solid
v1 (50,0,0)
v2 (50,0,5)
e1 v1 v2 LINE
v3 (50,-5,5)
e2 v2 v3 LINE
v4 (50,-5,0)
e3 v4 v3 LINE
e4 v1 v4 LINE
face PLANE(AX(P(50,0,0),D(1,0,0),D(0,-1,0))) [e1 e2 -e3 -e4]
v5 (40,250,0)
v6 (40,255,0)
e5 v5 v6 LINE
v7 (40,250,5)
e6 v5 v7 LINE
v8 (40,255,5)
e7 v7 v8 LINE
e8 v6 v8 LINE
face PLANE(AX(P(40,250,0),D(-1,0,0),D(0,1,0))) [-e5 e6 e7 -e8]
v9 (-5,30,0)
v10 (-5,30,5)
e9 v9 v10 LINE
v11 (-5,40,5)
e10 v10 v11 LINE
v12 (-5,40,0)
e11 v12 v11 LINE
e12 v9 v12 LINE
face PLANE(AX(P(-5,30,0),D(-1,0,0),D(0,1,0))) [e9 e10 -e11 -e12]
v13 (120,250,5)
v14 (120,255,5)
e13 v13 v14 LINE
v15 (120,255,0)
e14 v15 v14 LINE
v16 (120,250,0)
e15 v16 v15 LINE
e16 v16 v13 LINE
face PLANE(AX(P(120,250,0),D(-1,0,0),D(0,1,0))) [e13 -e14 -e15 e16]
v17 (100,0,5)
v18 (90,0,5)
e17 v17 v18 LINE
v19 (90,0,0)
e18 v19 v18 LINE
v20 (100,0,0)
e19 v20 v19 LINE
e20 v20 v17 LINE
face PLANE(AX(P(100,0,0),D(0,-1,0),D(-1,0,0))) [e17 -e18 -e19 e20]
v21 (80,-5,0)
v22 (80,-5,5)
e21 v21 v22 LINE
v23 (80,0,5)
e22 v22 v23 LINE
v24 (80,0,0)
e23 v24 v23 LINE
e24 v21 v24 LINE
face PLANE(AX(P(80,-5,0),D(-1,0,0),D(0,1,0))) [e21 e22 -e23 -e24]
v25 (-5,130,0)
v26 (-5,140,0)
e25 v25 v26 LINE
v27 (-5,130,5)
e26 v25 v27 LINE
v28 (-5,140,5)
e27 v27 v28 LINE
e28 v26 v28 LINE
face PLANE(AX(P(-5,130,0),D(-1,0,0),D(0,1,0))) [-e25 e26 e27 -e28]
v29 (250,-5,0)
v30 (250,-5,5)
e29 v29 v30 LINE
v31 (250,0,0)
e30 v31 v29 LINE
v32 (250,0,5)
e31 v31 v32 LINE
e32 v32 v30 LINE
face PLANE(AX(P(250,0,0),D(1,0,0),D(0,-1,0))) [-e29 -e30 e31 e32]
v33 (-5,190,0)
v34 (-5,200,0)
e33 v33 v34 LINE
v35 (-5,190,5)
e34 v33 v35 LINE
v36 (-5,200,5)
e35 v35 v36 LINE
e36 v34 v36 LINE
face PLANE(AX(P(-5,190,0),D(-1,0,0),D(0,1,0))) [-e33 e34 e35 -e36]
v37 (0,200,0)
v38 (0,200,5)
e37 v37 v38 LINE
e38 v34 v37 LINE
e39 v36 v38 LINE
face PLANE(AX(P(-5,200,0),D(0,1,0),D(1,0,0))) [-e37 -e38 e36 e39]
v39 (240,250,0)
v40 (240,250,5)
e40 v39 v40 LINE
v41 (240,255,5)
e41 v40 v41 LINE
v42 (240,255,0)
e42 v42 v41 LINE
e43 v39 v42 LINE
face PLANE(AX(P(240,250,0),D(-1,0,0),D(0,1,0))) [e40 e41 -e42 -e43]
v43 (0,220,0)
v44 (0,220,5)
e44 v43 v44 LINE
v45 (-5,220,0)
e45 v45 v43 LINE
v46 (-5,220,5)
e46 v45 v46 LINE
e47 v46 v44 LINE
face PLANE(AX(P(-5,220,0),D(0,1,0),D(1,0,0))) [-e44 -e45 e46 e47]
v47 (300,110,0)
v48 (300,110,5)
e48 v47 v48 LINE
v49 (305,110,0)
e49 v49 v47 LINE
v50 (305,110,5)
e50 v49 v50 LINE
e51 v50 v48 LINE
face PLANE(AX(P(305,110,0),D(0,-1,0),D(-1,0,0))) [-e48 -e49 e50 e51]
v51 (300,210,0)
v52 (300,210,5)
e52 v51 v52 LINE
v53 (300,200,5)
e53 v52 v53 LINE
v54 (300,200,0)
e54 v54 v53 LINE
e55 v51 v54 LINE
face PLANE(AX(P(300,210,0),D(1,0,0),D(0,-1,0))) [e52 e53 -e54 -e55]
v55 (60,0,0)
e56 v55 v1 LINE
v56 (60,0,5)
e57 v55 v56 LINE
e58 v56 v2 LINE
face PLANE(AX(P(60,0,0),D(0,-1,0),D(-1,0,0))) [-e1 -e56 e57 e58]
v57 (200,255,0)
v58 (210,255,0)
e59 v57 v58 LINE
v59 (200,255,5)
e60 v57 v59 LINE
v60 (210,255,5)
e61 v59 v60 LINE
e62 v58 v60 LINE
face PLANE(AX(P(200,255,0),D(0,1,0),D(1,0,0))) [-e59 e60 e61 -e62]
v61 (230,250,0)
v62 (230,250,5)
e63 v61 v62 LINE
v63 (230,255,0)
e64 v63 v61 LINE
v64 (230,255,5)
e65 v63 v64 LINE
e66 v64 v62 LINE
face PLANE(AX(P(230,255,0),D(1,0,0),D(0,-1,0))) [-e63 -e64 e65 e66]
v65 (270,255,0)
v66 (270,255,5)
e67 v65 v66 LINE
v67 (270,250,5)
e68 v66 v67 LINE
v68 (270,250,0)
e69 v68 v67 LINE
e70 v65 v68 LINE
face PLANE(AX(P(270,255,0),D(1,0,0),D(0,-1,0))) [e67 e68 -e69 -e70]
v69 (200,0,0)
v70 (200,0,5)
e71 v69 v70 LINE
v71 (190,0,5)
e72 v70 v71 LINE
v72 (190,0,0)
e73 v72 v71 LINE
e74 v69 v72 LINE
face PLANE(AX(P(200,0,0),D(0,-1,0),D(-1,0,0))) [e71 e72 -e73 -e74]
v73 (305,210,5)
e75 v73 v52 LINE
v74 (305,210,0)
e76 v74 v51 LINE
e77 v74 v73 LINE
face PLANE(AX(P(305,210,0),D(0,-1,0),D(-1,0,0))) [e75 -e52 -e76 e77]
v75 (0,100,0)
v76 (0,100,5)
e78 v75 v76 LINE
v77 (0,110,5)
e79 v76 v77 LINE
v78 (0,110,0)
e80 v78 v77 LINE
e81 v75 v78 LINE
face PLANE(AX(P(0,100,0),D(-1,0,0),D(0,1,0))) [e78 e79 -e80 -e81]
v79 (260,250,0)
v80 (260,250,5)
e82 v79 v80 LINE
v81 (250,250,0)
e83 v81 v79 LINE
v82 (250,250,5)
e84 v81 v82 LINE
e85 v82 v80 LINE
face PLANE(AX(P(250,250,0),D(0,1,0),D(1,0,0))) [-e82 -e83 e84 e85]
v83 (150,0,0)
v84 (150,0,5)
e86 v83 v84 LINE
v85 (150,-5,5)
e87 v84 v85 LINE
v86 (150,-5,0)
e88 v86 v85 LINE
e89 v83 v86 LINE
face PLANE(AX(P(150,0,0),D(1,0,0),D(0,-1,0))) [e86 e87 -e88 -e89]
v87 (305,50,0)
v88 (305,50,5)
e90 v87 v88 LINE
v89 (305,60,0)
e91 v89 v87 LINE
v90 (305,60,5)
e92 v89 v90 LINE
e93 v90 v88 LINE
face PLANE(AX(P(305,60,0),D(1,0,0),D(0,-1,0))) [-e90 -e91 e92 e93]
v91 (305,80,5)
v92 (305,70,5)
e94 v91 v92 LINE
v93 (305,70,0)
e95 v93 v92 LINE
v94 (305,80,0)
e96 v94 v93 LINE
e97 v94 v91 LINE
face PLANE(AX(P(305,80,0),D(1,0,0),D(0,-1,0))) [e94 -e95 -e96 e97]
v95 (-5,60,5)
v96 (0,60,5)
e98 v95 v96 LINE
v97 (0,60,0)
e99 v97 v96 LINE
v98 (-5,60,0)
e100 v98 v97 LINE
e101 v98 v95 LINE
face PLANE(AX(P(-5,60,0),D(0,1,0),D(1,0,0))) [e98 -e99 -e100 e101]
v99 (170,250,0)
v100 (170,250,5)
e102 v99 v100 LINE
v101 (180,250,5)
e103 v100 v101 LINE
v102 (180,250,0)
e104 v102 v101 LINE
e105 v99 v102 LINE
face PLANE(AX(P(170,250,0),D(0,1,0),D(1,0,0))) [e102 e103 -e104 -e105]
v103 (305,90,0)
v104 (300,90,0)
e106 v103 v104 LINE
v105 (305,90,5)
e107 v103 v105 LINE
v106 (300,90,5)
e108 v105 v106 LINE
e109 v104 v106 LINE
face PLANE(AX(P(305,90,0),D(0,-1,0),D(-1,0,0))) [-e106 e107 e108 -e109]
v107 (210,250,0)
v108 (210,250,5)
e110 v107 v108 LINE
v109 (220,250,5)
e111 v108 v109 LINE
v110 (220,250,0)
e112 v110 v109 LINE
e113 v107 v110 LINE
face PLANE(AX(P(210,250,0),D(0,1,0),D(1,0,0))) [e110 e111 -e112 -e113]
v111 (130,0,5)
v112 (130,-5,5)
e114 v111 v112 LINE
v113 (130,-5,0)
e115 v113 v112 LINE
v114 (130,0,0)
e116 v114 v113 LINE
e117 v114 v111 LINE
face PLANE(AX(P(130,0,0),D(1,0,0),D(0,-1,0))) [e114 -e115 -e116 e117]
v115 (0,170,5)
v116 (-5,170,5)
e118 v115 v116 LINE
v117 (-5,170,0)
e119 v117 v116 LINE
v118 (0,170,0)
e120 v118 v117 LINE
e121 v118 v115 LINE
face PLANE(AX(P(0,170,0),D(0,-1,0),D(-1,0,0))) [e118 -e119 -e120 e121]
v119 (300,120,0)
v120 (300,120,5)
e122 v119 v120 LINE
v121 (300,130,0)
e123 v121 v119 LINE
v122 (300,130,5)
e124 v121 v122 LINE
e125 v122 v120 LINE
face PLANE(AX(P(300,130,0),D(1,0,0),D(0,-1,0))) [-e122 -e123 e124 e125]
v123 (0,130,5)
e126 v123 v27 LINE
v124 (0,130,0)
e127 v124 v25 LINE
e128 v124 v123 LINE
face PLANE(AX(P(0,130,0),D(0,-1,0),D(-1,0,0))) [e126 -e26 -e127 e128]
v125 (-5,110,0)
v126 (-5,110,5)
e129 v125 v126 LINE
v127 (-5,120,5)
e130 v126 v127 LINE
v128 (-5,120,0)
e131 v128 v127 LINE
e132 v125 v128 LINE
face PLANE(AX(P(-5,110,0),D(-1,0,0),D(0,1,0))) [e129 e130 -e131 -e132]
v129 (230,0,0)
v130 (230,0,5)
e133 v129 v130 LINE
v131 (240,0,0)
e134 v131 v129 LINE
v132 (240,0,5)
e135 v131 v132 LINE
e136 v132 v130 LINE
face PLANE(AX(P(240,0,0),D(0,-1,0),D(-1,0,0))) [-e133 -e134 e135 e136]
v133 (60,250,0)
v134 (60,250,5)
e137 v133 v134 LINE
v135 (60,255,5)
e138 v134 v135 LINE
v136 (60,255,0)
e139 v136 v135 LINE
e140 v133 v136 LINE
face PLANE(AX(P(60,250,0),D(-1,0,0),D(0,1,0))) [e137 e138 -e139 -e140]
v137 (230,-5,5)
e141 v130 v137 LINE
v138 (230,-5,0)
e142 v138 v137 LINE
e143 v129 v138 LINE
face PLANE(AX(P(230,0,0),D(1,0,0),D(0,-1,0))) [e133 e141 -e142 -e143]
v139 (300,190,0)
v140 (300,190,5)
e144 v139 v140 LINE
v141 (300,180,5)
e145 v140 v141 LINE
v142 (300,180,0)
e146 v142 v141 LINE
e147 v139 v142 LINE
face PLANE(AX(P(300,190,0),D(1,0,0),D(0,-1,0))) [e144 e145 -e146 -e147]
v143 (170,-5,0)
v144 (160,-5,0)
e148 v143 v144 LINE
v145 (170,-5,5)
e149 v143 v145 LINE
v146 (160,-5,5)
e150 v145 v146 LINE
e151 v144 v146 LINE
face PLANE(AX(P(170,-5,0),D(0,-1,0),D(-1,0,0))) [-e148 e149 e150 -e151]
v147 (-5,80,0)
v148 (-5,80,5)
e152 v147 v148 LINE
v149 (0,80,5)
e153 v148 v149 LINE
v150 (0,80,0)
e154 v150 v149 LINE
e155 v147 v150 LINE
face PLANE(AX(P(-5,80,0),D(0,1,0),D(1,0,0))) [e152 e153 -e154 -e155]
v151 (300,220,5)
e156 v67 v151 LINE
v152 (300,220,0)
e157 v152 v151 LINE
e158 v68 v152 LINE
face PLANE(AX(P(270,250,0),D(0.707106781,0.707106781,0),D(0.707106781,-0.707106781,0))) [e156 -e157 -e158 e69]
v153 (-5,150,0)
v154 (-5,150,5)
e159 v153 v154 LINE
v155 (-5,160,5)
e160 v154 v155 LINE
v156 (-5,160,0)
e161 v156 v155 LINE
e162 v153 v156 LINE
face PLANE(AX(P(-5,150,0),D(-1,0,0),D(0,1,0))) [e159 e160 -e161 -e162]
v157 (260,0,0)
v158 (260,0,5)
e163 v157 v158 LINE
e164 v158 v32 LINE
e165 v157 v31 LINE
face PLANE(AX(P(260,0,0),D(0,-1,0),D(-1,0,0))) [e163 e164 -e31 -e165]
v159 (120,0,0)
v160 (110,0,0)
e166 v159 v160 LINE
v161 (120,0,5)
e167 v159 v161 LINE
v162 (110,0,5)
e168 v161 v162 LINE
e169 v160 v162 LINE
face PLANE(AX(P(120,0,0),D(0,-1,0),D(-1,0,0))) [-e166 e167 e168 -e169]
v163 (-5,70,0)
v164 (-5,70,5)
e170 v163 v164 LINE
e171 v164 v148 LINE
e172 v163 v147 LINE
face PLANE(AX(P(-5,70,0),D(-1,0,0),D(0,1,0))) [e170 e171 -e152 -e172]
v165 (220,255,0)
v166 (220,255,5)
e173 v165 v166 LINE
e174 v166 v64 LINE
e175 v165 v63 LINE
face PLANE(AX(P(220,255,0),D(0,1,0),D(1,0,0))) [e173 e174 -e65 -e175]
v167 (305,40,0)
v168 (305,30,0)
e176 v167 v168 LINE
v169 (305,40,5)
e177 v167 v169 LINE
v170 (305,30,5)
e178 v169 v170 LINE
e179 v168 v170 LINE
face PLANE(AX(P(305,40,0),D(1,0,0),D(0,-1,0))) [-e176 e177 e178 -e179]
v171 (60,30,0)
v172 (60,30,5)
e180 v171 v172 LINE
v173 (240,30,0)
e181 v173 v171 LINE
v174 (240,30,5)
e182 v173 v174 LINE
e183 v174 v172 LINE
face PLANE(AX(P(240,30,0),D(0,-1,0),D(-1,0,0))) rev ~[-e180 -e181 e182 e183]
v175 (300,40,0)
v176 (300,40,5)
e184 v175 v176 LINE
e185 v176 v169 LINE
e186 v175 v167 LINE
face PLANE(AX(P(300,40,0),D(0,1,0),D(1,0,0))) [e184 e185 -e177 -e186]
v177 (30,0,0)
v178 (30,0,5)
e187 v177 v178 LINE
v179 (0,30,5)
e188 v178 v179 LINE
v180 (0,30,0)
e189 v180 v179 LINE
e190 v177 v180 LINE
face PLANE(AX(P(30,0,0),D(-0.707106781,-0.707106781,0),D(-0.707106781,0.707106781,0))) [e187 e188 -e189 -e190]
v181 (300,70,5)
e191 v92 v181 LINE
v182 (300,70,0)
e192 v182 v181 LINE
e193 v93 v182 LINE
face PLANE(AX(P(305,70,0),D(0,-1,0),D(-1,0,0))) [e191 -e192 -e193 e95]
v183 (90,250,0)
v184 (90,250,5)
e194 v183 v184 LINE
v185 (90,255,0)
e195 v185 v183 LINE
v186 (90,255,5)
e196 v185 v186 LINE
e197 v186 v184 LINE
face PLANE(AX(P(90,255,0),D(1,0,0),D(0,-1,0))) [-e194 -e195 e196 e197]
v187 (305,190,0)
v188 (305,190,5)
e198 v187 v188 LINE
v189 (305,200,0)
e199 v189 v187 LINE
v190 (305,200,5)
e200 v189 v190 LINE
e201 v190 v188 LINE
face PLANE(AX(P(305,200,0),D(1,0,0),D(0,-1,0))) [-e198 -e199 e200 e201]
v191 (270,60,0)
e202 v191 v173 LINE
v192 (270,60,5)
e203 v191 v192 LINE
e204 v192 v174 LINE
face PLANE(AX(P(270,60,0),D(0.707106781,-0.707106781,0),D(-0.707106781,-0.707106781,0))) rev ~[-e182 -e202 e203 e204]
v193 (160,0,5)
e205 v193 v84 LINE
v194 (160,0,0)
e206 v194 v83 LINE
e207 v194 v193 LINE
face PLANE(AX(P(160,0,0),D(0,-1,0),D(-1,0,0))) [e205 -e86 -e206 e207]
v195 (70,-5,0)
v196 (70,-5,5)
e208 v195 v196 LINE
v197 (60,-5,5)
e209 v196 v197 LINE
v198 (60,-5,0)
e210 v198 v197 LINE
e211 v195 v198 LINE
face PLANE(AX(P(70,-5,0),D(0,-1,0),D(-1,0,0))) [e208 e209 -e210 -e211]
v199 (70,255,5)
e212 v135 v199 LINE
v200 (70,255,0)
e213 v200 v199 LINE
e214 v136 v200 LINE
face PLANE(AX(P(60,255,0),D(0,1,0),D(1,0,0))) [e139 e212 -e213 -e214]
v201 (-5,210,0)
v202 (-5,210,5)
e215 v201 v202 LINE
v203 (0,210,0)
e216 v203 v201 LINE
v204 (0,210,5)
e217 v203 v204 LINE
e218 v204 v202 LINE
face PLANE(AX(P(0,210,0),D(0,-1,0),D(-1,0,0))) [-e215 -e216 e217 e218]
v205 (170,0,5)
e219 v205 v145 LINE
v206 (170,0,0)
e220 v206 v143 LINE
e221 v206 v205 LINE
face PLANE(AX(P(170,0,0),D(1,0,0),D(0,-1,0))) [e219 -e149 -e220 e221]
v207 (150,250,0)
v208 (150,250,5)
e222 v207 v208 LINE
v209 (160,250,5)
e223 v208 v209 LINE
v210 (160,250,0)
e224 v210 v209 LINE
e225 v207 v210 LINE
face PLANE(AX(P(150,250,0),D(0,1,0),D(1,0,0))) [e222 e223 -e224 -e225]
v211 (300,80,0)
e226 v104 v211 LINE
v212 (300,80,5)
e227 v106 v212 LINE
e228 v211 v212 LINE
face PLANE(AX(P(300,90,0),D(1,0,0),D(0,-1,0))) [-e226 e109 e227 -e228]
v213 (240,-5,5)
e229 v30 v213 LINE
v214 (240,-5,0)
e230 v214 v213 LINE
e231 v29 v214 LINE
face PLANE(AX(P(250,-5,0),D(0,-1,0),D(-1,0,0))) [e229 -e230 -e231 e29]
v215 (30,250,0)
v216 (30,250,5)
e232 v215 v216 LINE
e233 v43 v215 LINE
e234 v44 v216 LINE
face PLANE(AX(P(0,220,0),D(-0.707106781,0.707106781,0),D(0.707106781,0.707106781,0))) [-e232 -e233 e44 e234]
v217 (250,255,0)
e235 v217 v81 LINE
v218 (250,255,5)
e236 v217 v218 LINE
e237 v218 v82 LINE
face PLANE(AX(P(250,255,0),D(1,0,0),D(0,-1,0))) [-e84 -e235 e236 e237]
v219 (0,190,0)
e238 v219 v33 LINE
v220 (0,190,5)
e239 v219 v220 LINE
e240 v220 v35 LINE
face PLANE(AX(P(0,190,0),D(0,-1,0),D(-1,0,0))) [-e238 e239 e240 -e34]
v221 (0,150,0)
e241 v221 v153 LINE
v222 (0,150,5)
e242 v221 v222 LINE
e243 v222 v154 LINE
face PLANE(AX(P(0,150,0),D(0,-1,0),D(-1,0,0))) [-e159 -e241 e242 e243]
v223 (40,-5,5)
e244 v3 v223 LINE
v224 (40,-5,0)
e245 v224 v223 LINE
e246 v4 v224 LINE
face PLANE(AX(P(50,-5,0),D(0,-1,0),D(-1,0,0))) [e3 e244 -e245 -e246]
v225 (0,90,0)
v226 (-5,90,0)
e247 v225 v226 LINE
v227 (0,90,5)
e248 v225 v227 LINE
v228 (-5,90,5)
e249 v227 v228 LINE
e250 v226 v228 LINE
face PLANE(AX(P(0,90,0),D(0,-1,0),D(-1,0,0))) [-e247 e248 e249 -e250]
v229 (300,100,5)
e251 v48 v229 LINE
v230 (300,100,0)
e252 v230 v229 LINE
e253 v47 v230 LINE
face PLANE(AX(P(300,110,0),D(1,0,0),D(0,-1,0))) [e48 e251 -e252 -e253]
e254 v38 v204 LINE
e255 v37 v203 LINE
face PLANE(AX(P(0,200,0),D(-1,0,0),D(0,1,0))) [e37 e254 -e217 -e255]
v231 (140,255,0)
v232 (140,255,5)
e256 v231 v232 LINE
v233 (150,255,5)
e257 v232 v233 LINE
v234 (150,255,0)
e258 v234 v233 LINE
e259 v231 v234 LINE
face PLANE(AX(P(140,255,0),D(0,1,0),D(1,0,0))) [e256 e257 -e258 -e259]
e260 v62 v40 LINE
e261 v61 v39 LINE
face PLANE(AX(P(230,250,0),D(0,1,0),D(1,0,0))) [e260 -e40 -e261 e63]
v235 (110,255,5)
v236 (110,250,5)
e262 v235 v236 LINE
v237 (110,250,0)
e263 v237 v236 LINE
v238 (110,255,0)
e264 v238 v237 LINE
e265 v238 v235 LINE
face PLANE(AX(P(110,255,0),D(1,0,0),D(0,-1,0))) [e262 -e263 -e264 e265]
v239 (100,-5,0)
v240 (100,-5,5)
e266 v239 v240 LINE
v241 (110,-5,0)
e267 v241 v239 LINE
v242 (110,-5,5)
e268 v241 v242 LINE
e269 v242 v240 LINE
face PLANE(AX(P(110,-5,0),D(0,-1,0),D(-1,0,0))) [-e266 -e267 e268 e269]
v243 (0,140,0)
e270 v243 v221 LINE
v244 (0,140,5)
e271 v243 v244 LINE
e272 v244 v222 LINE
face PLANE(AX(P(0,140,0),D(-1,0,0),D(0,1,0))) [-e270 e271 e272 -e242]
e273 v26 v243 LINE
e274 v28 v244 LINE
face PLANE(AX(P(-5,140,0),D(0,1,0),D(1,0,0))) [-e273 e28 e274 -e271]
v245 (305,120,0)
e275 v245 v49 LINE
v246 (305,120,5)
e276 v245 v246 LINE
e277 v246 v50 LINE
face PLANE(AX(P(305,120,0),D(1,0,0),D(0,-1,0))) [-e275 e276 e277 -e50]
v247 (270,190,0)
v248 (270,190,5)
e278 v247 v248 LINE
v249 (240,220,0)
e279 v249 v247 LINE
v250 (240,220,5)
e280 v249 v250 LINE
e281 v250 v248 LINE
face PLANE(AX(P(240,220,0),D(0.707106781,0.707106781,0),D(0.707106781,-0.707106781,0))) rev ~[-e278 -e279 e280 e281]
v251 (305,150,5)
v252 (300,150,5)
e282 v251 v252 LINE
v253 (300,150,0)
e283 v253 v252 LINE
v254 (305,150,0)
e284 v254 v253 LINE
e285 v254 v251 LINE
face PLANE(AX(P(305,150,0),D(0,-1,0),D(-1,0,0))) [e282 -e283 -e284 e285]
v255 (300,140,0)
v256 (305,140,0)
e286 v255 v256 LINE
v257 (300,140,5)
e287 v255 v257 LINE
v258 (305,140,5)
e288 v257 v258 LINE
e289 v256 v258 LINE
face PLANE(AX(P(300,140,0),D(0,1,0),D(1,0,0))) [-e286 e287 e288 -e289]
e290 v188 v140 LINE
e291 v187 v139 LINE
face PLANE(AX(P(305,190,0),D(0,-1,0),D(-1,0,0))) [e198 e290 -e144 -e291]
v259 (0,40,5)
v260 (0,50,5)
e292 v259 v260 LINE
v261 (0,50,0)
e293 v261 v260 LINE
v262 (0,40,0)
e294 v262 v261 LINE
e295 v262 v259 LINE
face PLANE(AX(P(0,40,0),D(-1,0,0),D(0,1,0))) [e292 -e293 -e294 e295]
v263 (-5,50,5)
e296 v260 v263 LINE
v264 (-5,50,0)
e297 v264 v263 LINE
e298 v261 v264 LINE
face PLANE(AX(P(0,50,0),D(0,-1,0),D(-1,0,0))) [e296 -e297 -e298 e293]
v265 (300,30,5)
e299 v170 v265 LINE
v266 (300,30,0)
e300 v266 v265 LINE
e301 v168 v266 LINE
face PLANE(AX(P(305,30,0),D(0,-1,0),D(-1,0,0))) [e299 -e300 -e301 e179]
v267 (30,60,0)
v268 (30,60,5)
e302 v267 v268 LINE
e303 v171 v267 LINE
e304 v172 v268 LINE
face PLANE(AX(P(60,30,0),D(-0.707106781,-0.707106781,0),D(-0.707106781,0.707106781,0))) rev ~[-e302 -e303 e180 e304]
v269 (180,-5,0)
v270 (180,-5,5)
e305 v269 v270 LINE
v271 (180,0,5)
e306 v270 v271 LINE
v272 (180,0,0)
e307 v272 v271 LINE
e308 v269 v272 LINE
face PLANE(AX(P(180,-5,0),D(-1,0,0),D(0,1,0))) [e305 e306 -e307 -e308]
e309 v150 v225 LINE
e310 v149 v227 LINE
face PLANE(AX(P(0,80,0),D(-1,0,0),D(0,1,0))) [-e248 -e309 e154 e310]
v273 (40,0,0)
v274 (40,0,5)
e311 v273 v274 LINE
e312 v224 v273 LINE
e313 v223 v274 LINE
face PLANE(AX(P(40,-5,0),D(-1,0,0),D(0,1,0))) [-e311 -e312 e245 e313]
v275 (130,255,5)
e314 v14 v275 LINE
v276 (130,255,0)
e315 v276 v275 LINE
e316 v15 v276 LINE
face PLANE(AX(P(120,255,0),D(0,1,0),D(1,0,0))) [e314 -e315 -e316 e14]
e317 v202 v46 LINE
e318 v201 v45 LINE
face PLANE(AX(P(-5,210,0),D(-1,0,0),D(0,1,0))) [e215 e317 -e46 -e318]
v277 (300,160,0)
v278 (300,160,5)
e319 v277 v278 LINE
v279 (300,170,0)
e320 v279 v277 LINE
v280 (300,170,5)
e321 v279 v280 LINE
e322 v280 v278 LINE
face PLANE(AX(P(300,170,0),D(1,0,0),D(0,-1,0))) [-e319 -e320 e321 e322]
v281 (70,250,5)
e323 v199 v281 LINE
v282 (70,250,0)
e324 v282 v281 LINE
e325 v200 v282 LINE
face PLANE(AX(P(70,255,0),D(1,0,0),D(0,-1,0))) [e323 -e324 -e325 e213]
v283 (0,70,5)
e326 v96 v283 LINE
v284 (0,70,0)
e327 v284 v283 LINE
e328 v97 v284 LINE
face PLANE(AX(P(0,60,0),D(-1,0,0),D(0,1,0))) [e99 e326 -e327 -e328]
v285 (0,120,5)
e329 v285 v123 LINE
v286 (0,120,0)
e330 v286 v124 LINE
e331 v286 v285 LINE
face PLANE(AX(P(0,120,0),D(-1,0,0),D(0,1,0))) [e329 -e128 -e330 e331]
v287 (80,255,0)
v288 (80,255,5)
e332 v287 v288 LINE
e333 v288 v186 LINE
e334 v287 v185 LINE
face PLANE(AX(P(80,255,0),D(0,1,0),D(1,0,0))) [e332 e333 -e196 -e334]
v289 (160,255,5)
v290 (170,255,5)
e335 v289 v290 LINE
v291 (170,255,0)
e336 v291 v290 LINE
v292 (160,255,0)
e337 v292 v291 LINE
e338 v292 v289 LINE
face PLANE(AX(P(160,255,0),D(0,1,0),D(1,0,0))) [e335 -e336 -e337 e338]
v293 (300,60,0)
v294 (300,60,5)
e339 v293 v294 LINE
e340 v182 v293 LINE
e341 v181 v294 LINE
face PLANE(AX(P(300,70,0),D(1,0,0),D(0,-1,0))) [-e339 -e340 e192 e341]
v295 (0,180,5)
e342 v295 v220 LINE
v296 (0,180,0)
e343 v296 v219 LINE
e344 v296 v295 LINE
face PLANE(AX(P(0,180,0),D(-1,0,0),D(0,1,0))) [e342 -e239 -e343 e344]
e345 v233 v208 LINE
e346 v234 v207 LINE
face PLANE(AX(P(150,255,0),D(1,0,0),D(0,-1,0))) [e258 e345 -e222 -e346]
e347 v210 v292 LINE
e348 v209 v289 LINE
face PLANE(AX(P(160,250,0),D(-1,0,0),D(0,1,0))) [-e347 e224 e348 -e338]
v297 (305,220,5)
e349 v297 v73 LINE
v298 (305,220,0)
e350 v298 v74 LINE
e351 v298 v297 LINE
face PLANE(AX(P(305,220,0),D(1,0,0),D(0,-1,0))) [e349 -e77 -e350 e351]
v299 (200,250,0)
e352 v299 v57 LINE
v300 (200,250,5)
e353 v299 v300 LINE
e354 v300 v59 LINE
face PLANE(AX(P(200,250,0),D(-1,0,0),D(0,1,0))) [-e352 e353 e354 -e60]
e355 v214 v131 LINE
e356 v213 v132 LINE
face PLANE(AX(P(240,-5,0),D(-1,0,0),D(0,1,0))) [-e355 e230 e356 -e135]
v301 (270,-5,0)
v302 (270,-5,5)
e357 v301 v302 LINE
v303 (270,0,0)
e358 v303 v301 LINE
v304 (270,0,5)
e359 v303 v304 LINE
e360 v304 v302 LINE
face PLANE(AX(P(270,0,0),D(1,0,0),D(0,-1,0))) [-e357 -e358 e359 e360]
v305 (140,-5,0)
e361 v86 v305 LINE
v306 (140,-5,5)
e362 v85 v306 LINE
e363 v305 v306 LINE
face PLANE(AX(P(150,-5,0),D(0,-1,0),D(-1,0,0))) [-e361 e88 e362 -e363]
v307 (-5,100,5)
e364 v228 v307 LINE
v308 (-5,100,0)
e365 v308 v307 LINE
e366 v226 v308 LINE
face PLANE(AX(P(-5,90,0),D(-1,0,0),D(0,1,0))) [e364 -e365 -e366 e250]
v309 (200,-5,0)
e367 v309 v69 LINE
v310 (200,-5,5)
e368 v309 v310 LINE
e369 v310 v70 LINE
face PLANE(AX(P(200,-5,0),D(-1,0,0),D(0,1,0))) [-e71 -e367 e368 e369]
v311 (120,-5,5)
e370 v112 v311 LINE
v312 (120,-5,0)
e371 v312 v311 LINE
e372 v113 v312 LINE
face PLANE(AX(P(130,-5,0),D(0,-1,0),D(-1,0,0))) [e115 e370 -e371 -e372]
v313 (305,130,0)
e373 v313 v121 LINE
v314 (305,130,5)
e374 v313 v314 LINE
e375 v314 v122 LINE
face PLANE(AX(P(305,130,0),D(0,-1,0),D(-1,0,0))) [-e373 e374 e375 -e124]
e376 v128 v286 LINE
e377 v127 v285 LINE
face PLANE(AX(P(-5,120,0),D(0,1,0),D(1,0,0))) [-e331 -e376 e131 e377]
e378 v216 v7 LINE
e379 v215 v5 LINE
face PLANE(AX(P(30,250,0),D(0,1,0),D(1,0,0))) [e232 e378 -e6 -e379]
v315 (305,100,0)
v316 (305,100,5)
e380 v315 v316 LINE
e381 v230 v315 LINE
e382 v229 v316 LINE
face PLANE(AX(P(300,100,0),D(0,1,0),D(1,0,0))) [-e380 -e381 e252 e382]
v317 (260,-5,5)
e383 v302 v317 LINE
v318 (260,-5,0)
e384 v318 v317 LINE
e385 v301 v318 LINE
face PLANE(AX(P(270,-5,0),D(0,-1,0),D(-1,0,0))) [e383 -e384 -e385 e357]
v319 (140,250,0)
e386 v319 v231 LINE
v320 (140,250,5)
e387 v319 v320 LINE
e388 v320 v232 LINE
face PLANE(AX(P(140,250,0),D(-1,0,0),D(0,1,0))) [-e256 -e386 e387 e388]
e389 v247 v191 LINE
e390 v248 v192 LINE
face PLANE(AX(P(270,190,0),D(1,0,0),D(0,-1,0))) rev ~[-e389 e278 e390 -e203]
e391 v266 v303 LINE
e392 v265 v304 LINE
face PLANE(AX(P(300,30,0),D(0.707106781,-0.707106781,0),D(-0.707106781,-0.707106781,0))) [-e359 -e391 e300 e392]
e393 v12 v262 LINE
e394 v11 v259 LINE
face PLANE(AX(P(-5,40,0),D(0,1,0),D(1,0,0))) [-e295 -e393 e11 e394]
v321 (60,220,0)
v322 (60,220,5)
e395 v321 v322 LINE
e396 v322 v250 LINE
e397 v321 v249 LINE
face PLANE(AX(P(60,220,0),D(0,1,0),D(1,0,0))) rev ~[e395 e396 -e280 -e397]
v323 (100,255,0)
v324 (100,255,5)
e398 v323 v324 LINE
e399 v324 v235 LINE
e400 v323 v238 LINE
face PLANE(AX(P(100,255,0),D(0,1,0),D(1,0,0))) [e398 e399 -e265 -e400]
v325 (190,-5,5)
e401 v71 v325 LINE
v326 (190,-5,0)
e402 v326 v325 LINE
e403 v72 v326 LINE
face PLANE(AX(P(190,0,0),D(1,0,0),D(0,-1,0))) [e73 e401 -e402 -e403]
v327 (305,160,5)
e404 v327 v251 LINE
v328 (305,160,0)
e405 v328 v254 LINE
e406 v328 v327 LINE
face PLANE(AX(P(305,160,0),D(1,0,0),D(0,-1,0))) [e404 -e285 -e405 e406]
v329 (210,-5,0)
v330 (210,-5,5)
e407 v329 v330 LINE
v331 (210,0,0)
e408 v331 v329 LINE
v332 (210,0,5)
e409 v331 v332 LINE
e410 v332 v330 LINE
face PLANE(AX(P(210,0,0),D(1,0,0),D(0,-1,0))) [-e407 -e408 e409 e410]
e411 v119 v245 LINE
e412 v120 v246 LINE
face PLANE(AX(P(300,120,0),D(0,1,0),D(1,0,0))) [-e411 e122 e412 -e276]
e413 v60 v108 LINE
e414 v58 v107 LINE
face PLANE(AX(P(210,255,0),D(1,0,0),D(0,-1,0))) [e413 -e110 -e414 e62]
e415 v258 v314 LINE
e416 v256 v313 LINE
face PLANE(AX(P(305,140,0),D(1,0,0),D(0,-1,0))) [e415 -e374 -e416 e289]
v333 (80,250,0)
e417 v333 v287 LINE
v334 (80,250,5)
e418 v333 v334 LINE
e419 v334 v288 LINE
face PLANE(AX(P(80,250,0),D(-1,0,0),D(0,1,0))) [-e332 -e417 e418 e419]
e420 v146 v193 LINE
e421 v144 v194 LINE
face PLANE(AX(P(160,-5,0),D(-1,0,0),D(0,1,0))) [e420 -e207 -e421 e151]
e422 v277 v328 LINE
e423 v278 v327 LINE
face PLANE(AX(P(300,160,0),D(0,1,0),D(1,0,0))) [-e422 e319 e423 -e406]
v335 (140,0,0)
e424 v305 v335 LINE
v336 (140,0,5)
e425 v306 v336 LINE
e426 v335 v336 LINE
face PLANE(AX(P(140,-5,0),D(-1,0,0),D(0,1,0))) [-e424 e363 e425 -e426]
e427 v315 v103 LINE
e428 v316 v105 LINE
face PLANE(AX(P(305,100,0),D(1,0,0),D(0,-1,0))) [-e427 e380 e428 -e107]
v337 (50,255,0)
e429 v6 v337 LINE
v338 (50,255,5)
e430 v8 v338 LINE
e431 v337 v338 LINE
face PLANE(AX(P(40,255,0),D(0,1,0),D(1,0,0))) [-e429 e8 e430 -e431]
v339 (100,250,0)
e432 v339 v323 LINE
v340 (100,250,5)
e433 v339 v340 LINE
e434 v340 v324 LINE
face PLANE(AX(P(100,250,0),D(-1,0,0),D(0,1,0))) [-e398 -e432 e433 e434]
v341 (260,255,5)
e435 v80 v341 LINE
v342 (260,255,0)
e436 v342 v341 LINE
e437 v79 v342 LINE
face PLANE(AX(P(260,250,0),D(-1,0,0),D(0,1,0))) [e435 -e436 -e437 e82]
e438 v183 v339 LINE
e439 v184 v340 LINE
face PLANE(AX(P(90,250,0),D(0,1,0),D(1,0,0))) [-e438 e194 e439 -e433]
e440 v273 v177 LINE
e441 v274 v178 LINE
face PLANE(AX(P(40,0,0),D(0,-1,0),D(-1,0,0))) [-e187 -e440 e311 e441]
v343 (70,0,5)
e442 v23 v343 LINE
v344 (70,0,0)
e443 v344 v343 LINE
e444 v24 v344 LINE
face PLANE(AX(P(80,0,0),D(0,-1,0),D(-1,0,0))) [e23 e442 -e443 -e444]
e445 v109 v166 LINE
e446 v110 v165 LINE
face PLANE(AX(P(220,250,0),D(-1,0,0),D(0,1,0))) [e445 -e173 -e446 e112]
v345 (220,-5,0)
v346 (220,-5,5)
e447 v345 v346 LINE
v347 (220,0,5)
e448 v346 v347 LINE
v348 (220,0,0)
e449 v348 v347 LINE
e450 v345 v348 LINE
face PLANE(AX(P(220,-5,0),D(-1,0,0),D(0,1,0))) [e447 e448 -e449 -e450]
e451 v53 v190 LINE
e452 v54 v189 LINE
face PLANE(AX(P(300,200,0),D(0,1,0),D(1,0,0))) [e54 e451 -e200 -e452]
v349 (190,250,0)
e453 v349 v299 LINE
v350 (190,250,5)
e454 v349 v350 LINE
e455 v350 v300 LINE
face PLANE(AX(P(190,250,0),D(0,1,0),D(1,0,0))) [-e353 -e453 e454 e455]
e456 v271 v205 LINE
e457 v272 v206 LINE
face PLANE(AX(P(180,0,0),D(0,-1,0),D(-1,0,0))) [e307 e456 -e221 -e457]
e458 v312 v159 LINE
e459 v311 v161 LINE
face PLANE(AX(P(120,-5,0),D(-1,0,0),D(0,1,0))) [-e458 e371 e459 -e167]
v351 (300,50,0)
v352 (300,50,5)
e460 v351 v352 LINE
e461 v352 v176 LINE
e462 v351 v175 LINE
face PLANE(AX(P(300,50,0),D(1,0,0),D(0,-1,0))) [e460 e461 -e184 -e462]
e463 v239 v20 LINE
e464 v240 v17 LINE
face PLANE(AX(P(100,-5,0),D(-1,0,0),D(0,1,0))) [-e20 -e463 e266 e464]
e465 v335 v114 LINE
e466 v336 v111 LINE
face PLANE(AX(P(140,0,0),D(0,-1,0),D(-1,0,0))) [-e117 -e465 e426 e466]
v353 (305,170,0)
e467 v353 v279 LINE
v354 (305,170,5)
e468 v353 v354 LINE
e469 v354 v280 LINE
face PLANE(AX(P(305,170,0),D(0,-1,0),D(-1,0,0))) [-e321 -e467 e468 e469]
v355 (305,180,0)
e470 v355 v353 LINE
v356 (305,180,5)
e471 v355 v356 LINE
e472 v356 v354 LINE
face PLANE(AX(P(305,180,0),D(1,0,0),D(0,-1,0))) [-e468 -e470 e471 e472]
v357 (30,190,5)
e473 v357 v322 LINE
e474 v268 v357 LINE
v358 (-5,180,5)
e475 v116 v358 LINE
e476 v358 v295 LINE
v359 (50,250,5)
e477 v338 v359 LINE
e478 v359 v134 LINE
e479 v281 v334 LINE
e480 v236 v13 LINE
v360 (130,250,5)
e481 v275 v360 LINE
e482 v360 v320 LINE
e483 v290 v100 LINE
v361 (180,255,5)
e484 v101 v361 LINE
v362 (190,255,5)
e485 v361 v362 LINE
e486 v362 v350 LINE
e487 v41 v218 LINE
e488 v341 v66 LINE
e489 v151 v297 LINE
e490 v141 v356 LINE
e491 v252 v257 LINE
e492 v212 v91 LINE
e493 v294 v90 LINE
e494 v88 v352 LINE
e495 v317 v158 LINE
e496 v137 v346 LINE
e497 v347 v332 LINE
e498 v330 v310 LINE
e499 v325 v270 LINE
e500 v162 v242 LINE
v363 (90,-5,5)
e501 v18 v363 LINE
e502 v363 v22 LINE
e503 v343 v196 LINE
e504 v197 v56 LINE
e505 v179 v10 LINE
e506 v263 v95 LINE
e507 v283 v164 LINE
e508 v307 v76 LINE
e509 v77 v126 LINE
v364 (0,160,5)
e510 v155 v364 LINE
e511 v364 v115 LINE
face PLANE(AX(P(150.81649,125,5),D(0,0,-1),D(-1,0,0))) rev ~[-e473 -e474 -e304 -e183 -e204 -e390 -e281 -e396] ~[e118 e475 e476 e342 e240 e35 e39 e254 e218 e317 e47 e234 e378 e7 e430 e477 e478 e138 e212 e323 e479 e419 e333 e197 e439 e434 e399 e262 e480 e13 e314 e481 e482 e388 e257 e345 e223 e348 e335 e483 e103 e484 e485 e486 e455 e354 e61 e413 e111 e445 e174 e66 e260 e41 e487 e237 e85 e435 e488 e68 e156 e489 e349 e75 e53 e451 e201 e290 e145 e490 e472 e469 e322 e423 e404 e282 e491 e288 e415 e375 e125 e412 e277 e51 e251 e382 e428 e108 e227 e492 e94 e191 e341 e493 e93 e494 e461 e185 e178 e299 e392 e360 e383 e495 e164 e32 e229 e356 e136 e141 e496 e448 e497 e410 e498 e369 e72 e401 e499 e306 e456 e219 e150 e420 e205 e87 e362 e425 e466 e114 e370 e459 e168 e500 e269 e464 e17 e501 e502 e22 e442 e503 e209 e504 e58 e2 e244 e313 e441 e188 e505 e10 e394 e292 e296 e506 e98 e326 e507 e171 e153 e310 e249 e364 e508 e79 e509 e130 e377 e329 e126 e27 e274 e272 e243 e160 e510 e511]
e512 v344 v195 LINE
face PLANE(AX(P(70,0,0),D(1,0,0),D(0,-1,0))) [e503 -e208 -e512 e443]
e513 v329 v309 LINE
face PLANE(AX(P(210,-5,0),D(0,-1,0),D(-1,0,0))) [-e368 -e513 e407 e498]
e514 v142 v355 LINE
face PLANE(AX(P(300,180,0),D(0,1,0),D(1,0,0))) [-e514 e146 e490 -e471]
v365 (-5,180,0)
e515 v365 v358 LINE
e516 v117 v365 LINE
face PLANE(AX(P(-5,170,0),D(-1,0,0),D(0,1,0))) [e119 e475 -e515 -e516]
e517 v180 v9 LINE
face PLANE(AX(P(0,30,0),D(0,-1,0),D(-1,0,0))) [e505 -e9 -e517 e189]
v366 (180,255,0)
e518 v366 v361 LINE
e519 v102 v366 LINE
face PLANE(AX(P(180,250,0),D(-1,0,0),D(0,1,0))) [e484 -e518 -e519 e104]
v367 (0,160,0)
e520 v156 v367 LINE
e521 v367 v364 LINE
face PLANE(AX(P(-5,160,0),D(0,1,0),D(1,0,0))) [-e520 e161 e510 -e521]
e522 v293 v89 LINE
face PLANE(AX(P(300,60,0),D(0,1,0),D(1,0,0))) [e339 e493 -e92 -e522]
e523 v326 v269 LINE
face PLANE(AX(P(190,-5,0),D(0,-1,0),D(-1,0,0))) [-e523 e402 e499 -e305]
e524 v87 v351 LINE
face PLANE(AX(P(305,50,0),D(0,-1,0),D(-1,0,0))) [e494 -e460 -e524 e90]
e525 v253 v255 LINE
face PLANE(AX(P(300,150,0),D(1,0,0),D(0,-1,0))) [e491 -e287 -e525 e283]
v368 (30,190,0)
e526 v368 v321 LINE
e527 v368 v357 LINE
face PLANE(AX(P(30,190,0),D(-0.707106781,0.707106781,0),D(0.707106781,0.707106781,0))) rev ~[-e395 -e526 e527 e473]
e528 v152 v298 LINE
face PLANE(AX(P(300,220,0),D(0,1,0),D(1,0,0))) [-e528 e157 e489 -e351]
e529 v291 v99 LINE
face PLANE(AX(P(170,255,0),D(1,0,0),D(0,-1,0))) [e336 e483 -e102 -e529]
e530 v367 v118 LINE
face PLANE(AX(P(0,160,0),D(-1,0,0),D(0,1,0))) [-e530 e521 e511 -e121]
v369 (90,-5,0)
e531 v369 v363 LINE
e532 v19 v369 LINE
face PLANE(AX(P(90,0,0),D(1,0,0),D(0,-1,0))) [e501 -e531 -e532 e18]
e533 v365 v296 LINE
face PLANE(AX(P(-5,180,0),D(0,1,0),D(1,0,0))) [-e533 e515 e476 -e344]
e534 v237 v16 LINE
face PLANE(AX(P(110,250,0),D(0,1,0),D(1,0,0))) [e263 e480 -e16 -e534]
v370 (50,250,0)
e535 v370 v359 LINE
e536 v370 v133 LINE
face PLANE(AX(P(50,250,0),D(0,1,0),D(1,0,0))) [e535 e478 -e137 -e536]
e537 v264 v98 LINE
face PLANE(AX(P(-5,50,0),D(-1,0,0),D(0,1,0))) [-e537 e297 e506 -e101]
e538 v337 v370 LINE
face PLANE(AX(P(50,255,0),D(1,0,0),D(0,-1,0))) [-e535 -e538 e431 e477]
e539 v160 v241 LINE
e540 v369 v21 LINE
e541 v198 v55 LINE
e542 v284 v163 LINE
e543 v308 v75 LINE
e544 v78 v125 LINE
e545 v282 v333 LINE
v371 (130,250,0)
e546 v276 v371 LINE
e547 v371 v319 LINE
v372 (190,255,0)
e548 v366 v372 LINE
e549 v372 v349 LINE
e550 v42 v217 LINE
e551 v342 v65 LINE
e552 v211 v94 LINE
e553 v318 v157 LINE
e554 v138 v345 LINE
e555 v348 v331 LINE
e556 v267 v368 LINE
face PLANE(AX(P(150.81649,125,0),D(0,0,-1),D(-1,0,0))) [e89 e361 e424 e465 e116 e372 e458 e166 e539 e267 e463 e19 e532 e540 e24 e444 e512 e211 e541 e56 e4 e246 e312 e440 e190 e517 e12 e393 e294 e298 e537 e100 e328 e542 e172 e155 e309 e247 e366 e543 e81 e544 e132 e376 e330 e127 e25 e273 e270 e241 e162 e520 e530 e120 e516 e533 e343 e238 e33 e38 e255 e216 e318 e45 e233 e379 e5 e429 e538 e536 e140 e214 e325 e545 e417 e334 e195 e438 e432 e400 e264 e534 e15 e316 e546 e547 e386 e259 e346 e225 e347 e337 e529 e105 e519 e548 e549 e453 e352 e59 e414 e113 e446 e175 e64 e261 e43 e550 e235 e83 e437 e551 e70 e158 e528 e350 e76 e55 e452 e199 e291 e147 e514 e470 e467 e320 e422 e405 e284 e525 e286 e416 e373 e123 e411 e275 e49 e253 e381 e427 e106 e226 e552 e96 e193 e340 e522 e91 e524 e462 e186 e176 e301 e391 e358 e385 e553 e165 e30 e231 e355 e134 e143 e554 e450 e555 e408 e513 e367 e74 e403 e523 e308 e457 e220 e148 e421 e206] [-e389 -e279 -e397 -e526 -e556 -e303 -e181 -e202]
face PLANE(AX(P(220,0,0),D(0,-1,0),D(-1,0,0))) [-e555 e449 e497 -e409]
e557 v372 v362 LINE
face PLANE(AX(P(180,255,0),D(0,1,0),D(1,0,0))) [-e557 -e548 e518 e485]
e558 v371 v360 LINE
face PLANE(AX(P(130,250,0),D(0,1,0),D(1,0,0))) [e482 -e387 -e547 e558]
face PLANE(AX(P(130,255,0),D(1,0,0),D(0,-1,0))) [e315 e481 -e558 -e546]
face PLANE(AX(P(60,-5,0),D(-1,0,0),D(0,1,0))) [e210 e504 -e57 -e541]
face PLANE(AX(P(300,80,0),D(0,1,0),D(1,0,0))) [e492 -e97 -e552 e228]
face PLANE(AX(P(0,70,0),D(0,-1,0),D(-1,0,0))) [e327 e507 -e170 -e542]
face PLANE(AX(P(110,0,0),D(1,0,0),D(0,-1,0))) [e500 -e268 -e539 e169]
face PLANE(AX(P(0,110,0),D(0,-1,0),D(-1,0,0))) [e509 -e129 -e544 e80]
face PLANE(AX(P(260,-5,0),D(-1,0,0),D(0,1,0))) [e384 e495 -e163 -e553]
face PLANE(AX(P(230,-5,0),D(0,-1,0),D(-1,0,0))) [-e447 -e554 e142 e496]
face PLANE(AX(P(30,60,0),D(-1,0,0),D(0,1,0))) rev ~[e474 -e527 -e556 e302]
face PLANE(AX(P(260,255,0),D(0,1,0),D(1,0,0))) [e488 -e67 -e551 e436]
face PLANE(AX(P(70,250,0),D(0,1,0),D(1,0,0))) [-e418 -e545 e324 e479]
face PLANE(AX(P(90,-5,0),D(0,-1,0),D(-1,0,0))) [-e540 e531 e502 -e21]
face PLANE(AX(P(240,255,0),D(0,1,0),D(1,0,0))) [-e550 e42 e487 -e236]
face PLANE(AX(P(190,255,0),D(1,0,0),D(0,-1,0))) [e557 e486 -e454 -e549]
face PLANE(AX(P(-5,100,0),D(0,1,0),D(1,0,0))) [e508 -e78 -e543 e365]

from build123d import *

# Parameters (mm, degrees)
AUFSATZ_LINEAR_AUSTRAGEN1_DEPTH = 5


with BuildPart() as part:
    # Skizze1 → Aufsatz-Linear austragen1 (new body)
    with BuildSketch(Plane.XY):
        Polygon((30, 0), (0, 30), (-5, 30), (-5, 40), (0, 40), (0, 50), (-5, 50), (-5, 60), (0, 60), (0, 70), (-5, 70), (-5, 80), (0, 80), (0, 90), (-5, 90), (-5, 100), (0, 100), (0, 110), (-5, 110), (-5, 120), (0, 120), (0, 130), (-5, 130), (-5, 140), (0, 140), (0, 150), (-5, 150), (-5, 160), (0, 160), (0, 170), (-5, 170), (-5, 180), (0, 180), (0, 190), (-5, 190), (-5, 200), (0, 200), (0, 210), (-5, 210), (-5, 220), (0, 220), (30, 250), (40, 250), (40, 255), (50, 255), (50, 250), (60, 250), (60, 255), (70, 255), (70, 250), (80, 250), (80, 255), (90, 255), (90, 250), (100, 250), (100, 255), (110, 255), (110, 250), (120, 250), (120, 255), (130, 255), (130, 250), (140, 250), (140, 255), (150, 255), (150, 250), (160, 250), (160, 255), (170, 255), (170, 250), (180, 250), (180, 255), (190, 255), (190, 250), (200, 250), (200, 255), (210, 255), (210, 250), (220, 250), (220, 255), (230, 255), (230, 250), (240, 250), (240, 255), (250, 255), (250, 250), (260, 250), (260, 255), (270, 255), (270, 250), (300, 220), (305, 220), (305, 210), (300, 210), (300, 200), (305, 200), (305, 190), (300, 190), (300, 180), (305, 180), (305, 170), (300, 170), (300, 160), (305, 160), (305, 150), (300, 150), (300, 140), (305, 140), (305, 130), (300, 130), (300, 120), (305, 120), (305, 110), (300, 110), (300, 100), (305, 100), (305, 90), (300, 90), (300, 80), (305, 80), (305, 70), (300, 70), (300, 60), (305, 60), (305, 50), (300, 50), (300, 40), (305, 40), (305, 30), (300, 30), (270, 0), (270, -5), (260, -5), (260, 0), (250, 0), (250, -5), (240, -5), (240, 0), (230, 0), (230, -5), (220, -5), (220, 0), (210, 0), (210, -5), (200, -5), (200, 0), (190, 0), (190, -5), (180, -5), (180, 0), (170, 0), (170, -5), (160, -5), (160, 0), (150, 0), (150, -5), (140, -5), (140, 0), (130, 0), (130, -5), (120, -5), (120, 0), (110, 0), (110, -5), (100, -5), (100, 0), (90, 0), (90, -5), (80, -5), (80, 0), (70, 0), (70, -5), (60, -5), (60, 0), (50, 0), (50, -5), (40, -5), (40, 0), align=None)
        Polygon((30, 190), (60, 220), (240, 220), (270, 190), (270, 60), (240, 30), (60, 30), (30, 60), align=None, mode=Mode.SUBTRACT)
    extrude(amount=AUFSATZ_LINEAR_AUSTRAGEN1_DEPTH)


solid = part.part
